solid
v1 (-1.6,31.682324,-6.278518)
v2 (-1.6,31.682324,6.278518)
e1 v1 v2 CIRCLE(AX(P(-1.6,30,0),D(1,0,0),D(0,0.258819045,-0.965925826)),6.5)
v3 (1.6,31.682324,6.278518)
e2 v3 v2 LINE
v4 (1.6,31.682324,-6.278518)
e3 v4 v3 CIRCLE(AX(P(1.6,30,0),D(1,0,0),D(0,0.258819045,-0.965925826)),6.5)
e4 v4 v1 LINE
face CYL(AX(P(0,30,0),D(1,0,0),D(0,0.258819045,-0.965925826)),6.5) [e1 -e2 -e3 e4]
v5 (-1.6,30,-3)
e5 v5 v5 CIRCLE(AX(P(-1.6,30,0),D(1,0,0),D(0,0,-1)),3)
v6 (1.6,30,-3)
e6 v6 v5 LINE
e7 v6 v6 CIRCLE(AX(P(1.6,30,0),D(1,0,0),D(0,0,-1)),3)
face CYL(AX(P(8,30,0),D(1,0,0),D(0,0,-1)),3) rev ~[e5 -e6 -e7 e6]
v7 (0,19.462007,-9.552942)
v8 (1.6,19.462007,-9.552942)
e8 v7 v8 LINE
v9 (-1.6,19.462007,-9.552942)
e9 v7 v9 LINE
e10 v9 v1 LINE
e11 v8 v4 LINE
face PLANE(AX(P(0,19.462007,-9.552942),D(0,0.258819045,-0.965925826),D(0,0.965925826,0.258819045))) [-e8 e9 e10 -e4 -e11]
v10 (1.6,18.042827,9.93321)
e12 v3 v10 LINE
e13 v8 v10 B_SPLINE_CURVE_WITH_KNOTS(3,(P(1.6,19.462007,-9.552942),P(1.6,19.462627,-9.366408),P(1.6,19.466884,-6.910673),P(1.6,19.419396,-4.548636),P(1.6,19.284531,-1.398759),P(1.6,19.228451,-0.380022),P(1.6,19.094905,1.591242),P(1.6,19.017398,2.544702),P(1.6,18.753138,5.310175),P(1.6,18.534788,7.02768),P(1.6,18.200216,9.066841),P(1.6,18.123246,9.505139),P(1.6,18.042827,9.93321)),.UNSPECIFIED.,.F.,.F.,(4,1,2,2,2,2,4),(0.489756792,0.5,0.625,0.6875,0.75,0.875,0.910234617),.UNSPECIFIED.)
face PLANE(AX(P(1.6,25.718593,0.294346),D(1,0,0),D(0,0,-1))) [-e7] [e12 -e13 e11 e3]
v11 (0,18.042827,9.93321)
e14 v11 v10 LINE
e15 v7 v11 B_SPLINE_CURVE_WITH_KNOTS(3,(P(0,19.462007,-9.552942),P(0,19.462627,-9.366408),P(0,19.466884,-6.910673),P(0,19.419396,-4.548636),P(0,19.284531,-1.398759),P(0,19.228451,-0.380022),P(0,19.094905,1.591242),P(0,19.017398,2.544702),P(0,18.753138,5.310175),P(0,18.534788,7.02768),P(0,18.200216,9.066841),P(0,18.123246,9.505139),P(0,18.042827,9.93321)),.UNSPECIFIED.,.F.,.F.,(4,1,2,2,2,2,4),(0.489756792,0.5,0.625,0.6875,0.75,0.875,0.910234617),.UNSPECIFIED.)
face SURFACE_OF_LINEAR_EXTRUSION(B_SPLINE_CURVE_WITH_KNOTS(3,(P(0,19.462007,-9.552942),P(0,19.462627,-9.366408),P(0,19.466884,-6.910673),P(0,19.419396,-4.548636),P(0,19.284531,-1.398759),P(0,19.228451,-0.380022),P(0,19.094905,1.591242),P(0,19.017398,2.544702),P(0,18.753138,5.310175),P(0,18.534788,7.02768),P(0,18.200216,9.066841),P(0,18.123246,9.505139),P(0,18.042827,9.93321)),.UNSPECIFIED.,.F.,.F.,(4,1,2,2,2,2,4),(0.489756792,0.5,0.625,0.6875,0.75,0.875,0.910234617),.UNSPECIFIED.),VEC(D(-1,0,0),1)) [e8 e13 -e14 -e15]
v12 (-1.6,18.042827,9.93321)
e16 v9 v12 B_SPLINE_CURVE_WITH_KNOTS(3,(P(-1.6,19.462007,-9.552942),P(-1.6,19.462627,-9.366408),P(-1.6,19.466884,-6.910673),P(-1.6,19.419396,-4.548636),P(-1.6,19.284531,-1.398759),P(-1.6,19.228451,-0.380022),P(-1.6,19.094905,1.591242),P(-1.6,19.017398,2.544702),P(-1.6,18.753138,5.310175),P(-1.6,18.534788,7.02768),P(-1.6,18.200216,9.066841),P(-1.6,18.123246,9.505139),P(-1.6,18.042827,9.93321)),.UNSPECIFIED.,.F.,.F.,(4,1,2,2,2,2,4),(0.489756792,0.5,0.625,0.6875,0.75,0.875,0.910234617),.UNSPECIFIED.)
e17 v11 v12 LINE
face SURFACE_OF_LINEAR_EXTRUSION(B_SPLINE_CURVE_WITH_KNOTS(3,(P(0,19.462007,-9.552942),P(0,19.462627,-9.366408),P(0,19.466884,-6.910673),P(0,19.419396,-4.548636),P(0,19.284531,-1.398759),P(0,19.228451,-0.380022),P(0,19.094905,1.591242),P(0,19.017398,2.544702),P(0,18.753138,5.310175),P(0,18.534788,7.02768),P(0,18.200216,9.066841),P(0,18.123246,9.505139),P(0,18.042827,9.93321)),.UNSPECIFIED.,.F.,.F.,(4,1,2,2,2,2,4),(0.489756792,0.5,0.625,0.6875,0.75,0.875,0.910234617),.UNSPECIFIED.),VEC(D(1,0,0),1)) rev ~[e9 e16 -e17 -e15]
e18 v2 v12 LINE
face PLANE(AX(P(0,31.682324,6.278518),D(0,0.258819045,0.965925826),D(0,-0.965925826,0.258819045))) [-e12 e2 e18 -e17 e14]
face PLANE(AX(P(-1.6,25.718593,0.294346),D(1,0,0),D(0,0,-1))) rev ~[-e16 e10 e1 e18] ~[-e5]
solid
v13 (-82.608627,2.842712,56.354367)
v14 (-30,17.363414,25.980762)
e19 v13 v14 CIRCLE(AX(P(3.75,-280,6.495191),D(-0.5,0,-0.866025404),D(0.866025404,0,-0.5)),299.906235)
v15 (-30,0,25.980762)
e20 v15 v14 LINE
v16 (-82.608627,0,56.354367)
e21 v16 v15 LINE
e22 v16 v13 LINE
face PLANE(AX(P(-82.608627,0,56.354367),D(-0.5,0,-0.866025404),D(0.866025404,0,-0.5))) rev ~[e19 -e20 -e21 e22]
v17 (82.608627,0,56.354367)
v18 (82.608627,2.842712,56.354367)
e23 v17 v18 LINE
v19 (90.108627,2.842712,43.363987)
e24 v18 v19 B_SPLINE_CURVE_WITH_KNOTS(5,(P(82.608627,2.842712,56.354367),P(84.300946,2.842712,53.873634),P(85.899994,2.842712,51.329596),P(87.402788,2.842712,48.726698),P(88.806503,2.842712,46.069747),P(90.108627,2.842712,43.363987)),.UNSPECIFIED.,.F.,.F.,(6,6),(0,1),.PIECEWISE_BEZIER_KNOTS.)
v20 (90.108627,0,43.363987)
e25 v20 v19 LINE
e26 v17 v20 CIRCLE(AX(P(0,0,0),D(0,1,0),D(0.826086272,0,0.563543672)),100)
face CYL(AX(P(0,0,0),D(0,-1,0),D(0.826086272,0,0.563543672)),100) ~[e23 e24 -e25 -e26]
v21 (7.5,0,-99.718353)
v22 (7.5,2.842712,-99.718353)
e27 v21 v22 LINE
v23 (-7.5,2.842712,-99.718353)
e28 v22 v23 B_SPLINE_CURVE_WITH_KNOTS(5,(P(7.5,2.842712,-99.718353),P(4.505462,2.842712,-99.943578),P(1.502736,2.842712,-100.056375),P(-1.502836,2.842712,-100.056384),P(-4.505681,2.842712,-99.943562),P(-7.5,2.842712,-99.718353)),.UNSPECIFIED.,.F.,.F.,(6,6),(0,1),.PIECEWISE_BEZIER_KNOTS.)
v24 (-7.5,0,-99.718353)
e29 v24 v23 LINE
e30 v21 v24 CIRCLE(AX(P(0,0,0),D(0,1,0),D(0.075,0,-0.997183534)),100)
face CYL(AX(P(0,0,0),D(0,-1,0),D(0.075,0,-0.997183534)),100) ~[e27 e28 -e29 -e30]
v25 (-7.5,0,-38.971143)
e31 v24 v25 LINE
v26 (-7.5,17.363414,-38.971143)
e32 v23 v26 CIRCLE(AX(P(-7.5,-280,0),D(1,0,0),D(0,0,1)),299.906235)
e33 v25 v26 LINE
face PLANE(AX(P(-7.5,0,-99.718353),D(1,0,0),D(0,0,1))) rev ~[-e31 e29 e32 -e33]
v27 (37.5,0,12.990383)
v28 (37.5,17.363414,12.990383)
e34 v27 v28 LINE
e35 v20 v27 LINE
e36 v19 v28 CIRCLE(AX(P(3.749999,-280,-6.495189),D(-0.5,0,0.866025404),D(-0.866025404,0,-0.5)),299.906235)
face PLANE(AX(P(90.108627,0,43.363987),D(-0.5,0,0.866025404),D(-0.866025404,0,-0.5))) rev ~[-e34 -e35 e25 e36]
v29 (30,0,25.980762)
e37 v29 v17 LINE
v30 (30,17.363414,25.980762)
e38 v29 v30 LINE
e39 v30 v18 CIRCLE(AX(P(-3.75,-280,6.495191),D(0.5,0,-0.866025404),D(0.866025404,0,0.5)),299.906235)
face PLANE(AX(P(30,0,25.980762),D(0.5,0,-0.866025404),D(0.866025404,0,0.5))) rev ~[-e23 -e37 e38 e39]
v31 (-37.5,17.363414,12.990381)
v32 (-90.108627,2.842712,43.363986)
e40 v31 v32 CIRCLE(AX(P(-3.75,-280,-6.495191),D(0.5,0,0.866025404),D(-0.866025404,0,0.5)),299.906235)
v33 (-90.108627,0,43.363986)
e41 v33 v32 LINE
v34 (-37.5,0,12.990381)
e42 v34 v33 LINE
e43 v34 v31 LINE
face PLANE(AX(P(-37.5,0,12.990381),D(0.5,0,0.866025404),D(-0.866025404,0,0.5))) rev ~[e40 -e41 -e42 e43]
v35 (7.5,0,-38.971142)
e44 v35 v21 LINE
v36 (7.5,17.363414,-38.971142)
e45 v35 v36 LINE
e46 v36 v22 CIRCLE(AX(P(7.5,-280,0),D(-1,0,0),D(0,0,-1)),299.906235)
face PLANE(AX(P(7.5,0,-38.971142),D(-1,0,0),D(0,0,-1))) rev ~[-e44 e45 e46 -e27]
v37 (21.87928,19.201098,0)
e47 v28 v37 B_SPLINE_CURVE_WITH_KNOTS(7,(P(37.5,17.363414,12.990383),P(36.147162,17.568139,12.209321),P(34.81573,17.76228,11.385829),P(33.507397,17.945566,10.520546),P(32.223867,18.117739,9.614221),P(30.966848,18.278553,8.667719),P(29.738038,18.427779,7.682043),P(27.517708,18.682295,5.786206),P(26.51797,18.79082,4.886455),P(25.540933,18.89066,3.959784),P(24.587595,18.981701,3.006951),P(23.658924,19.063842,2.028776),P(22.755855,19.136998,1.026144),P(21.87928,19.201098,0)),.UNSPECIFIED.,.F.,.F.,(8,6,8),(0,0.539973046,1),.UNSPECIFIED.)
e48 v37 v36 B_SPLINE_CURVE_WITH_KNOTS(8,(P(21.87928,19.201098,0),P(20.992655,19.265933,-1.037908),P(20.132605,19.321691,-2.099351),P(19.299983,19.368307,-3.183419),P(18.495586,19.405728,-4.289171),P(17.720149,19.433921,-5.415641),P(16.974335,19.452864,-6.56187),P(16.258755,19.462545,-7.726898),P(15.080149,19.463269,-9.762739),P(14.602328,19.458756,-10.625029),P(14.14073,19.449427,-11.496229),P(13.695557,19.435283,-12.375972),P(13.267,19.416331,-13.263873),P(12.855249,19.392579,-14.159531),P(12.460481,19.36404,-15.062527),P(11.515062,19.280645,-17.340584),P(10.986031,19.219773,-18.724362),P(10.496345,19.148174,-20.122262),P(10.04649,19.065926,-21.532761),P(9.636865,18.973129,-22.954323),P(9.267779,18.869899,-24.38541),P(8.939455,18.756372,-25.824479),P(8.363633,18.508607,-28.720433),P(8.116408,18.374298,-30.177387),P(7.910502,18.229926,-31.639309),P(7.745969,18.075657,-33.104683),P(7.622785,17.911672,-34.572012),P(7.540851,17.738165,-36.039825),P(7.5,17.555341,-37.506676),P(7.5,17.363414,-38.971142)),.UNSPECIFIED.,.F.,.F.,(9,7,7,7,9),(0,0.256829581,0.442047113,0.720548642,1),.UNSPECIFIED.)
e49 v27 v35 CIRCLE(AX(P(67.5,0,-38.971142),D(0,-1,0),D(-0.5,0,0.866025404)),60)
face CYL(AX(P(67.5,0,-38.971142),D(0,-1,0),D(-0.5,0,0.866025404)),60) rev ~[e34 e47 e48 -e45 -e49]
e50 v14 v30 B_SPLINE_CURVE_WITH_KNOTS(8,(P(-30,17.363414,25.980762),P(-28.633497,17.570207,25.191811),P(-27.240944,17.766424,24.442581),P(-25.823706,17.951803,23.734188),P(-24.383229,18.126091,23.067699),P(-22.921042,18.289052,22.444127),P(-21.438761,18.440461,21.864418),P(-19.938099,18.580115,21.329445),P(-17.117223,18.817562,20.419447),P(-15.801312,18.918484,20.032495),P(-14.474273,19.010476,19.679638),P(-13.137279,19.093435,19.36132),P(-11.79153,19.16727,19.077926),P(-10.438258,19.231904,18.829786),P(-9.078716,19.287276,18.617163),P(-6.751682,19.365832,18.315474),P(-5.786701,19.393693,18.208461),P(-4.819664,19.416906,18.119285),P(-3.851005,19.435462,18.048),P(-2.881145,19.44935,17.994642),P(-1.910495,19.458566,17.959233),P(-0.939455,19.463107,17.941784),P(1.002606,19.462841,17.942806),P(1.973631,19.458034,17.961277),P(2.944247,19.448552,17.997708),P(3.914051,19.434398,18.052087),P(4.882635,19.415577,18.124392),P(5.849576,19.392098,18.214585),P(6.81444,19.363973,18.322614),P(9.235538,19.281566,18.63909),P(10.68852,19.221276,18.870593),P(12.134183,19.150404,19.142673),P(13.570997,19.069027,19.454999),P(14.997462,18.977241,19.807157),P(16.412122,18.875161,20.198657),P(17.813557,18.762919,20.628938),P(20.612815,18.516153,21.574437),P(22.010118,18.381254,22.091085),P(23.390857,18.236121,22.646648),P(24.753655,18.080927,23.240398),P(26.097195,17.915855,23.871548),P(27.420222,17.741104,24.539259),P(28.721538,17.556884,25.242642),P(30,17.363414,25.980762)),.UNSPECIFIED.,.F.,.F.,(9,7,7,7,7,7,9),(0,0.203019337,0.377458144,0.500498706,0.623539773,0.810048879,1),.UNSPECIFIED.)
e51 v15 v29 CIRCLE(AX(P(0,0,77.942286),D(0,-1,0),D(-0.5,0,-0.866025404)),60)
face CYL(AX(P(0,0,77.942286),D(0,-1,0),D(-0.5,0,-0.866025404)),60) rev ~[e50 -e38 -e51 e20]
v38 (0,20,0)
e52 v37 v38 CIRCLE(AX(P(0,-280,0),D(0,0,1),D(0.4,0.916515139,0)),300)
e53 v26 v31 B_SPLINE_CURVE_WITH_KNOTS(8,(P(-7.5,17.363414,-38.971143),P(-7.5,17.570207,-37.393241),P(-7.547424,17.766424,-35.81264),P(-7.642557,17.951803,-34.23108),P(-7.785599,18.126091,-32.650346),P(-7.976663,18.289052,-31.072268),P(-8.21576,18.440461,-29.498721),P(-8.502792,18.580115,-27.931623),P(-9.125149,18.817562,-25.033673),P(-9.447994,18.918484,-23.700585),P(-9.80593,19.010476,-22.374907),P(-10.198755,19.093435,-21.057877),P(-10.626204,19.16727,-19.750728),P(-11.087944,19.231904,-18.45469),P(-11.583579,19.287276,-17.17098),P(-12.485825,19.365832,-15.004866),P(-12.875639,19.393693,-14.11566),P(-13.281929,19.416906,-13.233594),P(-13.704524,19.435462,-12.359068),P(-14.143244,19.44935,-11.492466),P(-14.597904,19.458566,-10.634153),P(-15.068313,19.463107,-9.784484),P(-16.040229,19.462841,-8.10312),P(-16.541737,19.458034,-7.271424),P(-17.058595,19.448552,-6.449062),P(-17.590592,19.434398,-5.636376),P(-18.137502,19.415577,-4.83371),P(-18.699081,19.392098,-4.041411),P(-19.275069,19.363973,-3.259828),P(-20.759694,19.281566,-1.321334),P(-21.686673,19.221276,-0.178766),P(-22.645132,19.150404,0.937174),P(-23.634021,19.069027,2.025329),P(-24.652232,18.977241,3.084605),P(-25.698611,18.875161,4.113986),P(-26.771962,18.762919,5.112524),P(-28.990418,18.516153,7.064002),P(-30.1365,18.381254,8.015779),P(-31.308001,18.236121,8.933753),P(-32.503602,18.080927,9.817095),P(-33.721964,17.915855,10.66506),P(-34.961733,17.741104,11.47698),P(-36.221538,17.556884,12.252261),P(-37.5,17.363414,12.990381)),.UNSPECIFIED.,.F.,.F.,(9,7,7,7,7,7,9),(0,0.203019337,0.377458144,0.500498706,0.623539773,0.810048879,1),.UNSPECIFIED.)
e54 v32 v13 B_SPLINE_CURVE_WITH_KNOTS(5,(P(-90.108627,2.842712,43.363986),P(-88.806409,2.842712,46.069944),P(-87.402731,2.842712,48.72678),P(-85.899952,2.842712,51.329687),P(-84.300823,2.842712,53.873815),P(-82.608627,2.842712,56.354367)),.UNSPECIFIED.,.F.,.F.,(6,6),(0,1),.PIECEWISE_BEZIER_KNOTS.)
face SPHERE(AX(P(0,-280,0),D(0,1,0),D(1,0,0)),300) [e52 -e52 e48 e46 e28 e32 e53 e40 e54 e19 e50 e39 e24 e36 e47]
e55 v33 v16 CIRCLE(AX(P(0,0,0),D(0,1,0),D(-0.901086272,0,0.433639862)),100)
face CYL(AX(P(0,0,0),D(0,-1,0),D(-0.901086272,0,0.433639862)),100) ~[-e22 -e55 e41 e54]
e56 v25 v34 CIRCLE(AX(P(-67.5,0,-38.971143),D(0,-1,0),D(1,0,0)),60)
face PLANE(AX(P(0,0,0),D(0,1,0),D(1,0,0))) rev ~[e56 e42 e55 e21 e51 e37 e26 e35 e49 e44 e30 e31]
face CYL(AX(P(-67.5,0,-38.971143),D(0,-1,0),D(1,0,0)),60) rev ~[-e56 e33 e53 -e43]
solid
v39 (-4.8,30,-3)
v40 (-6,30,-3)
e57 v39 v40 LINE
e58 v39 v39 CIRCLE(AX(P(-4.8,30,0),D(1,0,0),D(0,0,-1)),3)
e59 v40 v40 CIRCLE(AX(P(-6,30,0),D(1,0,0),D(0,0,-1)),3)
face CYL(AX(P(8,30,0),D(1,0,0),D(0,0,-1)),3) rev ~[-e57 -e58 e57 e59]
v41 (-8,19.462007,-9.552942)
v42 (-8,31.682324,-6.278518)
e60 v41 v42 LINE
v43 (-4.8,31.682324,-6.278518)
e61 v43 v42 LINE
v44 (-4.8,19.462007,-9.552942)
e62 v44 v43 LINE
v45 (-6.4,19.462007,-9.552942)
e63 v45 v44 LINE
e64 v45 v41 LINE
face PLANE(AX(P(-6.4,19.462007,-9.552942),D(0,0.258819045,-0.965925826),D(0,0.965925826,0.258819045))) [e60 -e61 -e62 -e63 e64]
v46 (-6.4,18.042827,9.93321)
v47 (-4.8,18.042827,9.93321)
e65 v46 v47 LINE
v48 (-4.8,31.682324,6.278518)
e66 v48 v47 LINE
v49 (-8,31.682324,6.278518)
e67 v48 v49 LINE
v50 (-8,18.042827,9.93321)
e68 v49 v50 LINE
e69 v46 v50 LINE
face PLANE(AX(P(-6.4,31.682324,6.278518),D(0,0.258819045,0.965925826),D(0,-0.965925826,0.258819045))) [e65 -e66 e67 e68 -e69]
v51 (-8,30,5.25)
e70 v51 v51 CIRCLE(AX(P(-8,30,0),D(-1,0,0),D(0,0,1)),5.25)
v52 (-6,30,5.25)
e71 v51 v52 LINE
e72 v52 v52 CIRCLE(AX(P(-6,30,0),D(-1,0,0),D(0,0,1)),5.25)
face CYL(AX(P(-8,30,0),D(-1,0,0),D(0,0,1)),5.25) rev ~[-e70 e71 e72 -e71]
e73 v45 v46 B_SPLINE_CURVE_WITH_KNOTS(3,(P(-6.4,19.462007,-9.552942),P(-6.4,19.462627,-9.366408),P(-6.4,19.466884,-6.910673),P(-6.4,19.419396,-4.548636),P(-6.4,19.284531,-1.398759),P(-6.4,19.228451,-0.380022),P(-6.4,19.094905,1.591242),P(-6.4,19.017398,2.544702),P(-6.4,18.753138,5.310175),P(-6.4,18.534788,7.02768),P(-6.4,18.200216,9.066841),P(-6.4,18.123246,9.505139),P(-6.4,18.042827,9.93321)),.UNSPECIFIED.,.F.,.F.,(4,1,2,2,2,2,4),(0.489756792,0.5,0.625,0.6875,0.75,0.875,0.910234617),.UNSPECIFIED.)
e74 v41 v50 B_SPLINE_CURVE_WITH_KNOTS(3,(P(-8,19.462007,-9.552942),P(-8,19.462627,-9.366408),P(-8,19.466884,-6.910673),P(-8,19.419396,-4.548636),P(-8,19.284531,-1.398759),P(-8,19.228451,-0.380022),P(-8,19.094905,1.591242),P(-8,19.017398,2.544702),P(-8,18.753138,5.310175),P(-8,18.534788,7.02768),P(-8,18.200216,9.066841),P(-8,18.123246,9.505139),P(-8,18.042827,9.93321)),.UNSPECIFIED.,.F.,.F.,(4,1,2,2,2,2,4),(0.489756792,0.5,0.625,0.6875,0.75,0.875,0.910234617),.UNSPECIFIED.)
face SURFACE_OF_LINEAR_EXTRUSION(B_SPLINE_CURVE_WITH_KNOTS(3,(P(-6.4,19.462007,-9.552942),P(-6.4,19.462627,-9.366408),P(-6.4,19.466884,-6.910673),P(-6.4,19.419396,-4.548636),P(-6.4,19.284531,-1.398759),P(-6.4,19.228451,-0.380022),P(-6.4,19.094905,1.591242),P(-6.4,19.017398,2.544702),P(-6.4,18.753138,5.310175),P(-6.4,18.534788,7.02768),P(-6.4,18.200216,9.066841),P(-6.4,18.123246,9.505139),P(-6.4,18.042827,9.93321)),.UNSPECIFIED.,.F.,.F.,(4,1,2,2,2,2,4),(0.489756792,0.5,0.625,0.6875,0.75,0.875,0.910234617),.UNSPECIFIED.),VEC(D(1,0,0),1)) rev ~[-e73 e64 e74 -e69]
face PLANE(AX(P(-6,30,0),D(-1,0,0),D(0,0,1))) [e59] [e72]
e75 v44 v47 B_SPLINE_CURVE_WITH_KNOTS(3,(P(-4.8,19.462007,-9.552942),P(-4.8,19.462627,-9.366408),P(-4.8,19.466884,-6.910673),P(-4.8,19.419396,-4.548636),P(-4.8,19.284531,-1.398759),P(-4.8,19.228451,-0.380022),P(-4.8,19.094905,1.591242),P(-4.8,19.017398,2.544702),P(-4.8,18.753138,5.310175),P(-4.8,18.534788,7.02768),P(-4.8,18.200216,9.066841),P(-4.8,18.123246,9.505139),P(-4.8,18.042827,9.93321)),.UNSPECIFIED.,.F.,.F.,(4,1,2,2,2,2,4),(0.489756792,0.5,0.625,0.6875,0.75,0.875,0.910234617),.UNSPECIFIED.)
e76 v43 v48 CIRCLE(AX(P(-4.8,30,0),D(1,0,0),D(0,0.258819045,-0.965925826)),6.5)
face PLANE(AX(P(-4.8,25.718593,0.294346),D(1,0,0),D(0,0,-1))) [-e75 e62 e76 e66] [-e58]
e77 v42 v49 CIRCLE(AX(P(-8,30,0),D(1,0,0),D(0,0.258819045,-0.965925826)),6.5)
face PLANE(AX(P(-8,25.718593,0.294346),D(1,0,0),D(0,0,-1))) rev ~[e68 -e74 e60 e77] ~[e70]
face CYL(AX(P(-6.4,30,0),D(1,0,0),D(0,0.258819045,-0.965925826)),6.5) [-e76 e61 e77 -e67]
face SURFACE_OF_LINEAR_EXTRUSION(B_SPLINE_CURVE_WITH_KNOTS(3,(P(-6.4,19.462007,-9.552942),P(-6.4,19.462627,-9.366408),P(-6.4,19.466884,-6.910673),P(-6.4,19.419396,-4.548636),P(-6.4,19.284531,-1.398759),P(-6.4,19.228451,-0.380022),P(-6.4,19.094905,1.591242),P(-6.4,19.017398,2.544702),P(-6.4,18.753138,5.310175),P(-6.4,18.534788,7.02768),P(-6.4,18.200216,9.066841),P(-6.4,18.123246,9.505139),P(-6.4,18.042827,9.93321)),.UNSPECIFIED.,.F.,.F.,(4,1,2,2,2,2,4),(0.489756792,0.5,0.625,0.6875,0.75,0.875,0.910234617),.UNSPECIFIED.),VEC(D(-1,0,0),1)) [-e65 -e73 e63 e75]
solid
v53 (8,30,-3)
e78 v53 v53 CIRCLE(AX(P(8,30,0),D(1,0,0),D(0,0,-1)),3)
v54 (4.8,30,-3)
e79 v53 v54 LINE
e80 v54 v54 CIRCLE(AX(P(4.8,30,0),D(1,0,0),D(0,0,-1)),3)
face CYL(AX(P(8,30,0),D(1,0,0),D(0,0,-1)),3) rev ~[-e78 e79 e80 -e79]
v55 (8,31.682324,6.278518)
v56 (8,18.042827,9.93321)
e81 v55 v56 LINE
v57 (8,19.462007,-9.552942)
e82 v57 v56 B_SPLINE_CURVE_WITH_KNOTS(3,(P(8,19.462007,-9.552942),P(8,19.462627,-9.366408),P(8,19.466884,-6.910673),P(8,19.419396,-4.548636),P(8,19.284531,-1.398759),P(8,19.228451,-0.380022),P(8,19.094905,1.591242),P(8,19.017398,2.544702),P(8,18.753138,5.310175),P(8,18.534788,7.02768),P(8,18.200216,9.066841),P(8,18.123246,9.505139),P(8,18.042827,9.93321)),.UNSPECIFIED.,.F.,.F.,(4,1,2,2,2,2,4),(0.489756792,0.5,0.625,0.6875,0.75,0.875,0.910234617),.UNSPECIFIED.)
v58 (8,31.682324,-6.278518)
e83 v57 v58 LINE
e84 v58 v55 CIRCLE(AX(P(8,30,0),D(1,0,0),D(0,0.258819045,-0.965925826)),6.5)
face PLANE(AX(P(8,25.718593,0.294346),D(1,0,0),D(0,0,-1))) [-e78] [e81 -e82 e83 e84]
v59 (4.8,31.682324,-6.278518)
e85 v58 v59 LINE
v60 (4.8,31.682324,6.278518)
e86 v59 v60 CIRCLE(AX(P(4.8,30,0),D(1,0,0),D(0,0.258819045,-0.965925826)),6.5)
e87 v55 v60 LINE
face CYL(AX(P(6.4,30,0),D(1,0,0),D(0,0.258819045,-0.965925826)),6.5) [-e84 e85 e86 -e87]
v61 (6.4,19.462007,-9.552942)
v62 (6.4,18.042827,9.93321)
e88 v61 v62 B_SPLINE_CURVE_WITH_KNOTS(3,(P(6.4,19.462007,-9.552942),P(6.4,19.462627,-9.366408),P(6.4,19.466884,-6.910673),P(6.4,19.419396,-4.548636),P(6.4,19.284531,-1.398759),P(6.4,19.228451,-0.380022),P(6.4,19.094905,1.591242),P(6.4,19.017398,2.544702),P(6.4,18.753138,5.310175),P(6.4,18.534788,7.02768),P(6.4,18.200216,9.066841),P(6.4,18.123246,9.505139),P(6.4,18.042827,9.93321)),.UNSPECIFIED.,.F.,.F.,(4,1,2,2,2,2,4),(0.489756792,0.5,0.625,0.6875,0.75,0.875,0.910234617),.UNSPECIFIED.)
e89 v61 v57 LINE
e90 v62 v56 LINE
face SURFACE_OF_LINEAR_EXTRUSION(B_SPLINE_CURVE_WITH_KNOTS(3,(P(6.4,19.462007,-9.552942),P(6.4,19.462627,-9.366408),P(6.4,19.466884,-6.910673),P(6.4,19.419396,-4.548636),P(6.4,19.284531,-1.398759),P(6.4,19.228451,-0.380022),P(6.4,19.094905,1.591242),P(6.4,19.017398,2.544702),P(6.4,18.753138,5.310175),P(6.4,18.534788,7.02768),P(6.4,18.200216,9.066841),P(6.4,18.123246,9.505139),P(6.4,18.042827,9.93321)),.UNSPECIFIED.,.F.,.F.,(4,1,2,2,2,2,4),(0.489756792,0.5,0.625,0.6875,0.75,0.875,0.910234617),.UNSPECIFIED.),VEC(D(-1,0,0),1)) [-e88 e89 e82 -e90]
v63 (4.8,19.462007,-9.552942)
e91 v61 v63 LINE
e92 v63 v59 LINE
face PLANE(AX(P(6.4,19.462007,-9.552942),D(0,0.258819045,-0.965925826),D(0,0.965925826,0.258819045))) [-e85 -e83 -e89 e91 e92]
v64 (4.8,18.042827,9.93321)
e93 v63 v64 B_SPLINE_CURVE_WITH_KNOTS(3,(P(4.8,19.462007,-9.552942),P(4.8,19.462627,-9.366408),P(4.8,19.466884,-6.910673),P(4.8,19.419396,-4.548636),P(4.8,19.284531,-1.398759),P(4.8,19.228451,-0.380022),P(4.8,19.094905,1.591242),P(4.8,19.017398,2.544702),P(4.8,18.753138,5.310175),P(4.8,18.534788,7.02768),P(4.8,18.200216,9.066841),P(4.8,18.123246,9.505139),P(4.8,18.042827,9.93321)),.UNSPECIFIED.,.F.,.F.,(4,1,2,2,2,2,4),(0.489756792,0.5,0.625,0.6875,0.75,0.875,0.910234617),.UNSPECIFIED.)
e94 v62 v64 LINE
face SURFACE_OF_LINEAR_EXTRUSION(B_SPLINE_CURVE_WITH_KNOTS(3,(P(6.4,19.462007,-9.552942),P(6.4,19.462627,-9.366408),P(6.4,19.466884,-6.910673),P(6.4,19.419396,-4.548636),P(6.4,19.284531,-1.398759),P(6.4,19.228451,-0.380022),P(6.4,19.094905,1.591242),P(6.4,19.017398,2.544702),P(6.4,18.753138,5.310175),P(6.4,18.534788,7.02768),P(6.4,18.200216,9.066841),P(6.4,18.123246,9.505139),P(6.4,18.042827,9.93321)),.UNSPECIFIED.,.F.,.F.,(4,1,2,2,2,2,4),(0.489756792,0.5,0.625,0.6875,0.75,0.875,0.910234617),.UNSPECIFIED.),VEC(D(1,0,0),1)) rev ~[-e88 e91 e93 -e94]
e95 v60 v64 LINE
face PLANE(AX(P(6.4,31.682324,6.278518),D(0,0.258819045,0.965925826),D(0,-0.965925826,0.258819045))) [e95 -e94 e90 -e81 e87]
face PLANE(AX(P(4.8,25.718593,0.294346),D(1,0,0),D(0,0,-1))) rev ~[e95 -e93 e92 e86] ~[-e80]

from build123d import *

# Parameters (mm, degrees)
BOSS_EXTRUDE1_DEPTH = 20
BOSS_EXTRUDE2_DEPTH = 1.6
SKETCH5_R           = 3
CUT_EXTRUDE1_DEPTH  = 145.767236586
SKETCH6_R           = 5.25
CUT_EXTRUDE2_DEPTH  = 2


with BuildPart() as part:
    # Sketch1 → Boss-Extrude1 (new body)
    with BuildSketch(Plane(origin=(0, 0, 0), x_dir=(1, 0, 0), z_dir=(0, 1, 0))):
        with BuildLine():
            Line((-7.5, 99.718353376), (-7.5, 38.97114317))
            ThreePointArc((-7.5, 38.97114317), (-15.538475773, 8.97114317), (-37.5, -12.990381057))
            Line((-37.5, -12.990381057), (-90.108627247, -43.36398616))
            ThreePointArc((-90.108627247, -43.36398616), (-86.602540378, -50), (-82.608627247, -56.354367216))
            Line((-82.608627247, -56.354367216), (-30, -25.980762114))
            ThreePointArc((-30, -25.980762114), (0, -17.942286341), (30, -25.980762114))
            Line((30, -25.980762114), (82.608627247, -56.354367216))
            ThreePointArc((82.608627247, -56.354367216), (86.602540035, -50.000000595), (90.108626651, -43.363987398))
            Line((90.108626651, -43.363987398), (37.5, -12.99038264))
            ThreePointArc((37.5, -12.99038264), (15.538475773, 8.971141587), (7.5, 38.971141587))
            Line((7.5, 38.971141587), (7.5, 99.718353376))
            ThreePointArc((7.5, 99.718353376), (0, 100), (-7.5, 99.718353376))
        make_face()
    extrude(amount=BOSS_EXTRUDE1_DEPTH)

    # Sketch2 → Cut-Revolve4 (revolve, cut)
    with BuildSketch(Plane.XY):
        with BuildLine():
            Line((0, 20), (0, 34.954541697))
            Line((0, 34.954541697), (120, 34.954541697))
            Line((120, 34.954541697), (120, -5.045458303))
            ThreePointArc((120, -5.045458303), (61.292893107, 13.671893879), (0, 20))
        make_face()
    revolve(axis=Axis((0, 0, 0), (0, 1, 0)), mode=Mode.SUBTRACT)


with BuildPart() as body_2:
    # Sketch4 → Boss-Extrude2 (new, symmetric)
    with BuildSketch(Plane(origin=(0, 0, 0), x_dir=(0, 0, -1), z_dir=(1, 0, 0))):
        with BuildLine():
            Line((-6.278517871, 31.682323793), (-9.933210146, 18.042826538))
            add(Edge.make_bspline(
                [(9.55294178, 19.4620074), (9.366408214, 19.462627062), (6.910672995, 19.466883672), (4.548636298, 19.419395978), (1.398759391, 19.284530963), (0.380021767, 19.228451245), (-1.591242497, 19.094905023), (-2.544701819, 19.017397796), (-5.310174504, 18.753138299), (-7.02767955, 18.53478756), (-9.066841454, 18.200216125), (-9.505139098, 18.123246137), (-9.933210146, 18.042826538)],
                knots=[0.489756792, 0.489756792, 0.489756792, 0.489756792, 0.5, 0.625, 0.625, 0.6875, 0.6875, 0.75, 0.75, 0.875, 0.875, 0.910234617, 0.910234617, 0.910234617, 0.910234617], degree=3))
            Line((9.55294178, 19.4620074), (6.278517871, 31.682323793))
            ThreePointArc((6.278517871, 31.682323793), (0, 36.5), (-6.278517871, 31.682323793))
        make_face()
    extrude(amount=BOSS_EXTRUDE2_DEPTH, both=True)


with BuildPart() as body_3:
    # Body-Move/Copy2: copy of body 2
    add(body_2.part.moved(Location((6.4, 0, 0))))


with BuildPart() as body_4:
    # Body-Move/Copy3: copy of body 2
    add(body_2.part.moved(Location((-6.4, 0, 0))))


with BuildPart() as cut_extrude1_tool:
    # Sketch5 → Cut-Extrude1 (new, through all)
    with BuildSketch(Plane(origin=(8, 0, 0), x_dir=(0, 0, -1), z_dir=(1, 0, 0))):
        with Locations((0, 30)):
            Circle(SKETCH5_R)
    extrude(amount=-CUT_EXTRUDE1_DEPTH)


with BuildPart() as body_2_1:
    add(body_2.part)

    # Cut-Extrude1: cut by cut_extrude1_tool
    add(cut_extrude1_tool.part, mode=Mode.SUBTRACT)


with BuildPart() as body_3_1:
    add(body_3.part)

    # Cut-Extrude1: cut by cut_extrude1_tool
    add(cut_extrude1_tool.part, mode=Mode.SUBTRACT)


with BuildPart() as body_4_1:
    add(body_4.part)

    # Cut-Extrude1: cut by cut_extrude1_tool
    add(cut_extrude1_tool.part, mode=Mode.SUBTRACT)

    # Sketch6 → Cut-Extrude2 (cut)
    with BuildSketch(Plane.ZY.offset(8)):
        with Locations((0, 30)):
            Circle(SKETCH6_R)
    extrude(amount=-CUT_EXTRUDE2_DEPTH, mode=Mode.SUBTRACT)


solid = Compound([part.part, body_2_1.part, body_3_1.part, body_4_1.part])
